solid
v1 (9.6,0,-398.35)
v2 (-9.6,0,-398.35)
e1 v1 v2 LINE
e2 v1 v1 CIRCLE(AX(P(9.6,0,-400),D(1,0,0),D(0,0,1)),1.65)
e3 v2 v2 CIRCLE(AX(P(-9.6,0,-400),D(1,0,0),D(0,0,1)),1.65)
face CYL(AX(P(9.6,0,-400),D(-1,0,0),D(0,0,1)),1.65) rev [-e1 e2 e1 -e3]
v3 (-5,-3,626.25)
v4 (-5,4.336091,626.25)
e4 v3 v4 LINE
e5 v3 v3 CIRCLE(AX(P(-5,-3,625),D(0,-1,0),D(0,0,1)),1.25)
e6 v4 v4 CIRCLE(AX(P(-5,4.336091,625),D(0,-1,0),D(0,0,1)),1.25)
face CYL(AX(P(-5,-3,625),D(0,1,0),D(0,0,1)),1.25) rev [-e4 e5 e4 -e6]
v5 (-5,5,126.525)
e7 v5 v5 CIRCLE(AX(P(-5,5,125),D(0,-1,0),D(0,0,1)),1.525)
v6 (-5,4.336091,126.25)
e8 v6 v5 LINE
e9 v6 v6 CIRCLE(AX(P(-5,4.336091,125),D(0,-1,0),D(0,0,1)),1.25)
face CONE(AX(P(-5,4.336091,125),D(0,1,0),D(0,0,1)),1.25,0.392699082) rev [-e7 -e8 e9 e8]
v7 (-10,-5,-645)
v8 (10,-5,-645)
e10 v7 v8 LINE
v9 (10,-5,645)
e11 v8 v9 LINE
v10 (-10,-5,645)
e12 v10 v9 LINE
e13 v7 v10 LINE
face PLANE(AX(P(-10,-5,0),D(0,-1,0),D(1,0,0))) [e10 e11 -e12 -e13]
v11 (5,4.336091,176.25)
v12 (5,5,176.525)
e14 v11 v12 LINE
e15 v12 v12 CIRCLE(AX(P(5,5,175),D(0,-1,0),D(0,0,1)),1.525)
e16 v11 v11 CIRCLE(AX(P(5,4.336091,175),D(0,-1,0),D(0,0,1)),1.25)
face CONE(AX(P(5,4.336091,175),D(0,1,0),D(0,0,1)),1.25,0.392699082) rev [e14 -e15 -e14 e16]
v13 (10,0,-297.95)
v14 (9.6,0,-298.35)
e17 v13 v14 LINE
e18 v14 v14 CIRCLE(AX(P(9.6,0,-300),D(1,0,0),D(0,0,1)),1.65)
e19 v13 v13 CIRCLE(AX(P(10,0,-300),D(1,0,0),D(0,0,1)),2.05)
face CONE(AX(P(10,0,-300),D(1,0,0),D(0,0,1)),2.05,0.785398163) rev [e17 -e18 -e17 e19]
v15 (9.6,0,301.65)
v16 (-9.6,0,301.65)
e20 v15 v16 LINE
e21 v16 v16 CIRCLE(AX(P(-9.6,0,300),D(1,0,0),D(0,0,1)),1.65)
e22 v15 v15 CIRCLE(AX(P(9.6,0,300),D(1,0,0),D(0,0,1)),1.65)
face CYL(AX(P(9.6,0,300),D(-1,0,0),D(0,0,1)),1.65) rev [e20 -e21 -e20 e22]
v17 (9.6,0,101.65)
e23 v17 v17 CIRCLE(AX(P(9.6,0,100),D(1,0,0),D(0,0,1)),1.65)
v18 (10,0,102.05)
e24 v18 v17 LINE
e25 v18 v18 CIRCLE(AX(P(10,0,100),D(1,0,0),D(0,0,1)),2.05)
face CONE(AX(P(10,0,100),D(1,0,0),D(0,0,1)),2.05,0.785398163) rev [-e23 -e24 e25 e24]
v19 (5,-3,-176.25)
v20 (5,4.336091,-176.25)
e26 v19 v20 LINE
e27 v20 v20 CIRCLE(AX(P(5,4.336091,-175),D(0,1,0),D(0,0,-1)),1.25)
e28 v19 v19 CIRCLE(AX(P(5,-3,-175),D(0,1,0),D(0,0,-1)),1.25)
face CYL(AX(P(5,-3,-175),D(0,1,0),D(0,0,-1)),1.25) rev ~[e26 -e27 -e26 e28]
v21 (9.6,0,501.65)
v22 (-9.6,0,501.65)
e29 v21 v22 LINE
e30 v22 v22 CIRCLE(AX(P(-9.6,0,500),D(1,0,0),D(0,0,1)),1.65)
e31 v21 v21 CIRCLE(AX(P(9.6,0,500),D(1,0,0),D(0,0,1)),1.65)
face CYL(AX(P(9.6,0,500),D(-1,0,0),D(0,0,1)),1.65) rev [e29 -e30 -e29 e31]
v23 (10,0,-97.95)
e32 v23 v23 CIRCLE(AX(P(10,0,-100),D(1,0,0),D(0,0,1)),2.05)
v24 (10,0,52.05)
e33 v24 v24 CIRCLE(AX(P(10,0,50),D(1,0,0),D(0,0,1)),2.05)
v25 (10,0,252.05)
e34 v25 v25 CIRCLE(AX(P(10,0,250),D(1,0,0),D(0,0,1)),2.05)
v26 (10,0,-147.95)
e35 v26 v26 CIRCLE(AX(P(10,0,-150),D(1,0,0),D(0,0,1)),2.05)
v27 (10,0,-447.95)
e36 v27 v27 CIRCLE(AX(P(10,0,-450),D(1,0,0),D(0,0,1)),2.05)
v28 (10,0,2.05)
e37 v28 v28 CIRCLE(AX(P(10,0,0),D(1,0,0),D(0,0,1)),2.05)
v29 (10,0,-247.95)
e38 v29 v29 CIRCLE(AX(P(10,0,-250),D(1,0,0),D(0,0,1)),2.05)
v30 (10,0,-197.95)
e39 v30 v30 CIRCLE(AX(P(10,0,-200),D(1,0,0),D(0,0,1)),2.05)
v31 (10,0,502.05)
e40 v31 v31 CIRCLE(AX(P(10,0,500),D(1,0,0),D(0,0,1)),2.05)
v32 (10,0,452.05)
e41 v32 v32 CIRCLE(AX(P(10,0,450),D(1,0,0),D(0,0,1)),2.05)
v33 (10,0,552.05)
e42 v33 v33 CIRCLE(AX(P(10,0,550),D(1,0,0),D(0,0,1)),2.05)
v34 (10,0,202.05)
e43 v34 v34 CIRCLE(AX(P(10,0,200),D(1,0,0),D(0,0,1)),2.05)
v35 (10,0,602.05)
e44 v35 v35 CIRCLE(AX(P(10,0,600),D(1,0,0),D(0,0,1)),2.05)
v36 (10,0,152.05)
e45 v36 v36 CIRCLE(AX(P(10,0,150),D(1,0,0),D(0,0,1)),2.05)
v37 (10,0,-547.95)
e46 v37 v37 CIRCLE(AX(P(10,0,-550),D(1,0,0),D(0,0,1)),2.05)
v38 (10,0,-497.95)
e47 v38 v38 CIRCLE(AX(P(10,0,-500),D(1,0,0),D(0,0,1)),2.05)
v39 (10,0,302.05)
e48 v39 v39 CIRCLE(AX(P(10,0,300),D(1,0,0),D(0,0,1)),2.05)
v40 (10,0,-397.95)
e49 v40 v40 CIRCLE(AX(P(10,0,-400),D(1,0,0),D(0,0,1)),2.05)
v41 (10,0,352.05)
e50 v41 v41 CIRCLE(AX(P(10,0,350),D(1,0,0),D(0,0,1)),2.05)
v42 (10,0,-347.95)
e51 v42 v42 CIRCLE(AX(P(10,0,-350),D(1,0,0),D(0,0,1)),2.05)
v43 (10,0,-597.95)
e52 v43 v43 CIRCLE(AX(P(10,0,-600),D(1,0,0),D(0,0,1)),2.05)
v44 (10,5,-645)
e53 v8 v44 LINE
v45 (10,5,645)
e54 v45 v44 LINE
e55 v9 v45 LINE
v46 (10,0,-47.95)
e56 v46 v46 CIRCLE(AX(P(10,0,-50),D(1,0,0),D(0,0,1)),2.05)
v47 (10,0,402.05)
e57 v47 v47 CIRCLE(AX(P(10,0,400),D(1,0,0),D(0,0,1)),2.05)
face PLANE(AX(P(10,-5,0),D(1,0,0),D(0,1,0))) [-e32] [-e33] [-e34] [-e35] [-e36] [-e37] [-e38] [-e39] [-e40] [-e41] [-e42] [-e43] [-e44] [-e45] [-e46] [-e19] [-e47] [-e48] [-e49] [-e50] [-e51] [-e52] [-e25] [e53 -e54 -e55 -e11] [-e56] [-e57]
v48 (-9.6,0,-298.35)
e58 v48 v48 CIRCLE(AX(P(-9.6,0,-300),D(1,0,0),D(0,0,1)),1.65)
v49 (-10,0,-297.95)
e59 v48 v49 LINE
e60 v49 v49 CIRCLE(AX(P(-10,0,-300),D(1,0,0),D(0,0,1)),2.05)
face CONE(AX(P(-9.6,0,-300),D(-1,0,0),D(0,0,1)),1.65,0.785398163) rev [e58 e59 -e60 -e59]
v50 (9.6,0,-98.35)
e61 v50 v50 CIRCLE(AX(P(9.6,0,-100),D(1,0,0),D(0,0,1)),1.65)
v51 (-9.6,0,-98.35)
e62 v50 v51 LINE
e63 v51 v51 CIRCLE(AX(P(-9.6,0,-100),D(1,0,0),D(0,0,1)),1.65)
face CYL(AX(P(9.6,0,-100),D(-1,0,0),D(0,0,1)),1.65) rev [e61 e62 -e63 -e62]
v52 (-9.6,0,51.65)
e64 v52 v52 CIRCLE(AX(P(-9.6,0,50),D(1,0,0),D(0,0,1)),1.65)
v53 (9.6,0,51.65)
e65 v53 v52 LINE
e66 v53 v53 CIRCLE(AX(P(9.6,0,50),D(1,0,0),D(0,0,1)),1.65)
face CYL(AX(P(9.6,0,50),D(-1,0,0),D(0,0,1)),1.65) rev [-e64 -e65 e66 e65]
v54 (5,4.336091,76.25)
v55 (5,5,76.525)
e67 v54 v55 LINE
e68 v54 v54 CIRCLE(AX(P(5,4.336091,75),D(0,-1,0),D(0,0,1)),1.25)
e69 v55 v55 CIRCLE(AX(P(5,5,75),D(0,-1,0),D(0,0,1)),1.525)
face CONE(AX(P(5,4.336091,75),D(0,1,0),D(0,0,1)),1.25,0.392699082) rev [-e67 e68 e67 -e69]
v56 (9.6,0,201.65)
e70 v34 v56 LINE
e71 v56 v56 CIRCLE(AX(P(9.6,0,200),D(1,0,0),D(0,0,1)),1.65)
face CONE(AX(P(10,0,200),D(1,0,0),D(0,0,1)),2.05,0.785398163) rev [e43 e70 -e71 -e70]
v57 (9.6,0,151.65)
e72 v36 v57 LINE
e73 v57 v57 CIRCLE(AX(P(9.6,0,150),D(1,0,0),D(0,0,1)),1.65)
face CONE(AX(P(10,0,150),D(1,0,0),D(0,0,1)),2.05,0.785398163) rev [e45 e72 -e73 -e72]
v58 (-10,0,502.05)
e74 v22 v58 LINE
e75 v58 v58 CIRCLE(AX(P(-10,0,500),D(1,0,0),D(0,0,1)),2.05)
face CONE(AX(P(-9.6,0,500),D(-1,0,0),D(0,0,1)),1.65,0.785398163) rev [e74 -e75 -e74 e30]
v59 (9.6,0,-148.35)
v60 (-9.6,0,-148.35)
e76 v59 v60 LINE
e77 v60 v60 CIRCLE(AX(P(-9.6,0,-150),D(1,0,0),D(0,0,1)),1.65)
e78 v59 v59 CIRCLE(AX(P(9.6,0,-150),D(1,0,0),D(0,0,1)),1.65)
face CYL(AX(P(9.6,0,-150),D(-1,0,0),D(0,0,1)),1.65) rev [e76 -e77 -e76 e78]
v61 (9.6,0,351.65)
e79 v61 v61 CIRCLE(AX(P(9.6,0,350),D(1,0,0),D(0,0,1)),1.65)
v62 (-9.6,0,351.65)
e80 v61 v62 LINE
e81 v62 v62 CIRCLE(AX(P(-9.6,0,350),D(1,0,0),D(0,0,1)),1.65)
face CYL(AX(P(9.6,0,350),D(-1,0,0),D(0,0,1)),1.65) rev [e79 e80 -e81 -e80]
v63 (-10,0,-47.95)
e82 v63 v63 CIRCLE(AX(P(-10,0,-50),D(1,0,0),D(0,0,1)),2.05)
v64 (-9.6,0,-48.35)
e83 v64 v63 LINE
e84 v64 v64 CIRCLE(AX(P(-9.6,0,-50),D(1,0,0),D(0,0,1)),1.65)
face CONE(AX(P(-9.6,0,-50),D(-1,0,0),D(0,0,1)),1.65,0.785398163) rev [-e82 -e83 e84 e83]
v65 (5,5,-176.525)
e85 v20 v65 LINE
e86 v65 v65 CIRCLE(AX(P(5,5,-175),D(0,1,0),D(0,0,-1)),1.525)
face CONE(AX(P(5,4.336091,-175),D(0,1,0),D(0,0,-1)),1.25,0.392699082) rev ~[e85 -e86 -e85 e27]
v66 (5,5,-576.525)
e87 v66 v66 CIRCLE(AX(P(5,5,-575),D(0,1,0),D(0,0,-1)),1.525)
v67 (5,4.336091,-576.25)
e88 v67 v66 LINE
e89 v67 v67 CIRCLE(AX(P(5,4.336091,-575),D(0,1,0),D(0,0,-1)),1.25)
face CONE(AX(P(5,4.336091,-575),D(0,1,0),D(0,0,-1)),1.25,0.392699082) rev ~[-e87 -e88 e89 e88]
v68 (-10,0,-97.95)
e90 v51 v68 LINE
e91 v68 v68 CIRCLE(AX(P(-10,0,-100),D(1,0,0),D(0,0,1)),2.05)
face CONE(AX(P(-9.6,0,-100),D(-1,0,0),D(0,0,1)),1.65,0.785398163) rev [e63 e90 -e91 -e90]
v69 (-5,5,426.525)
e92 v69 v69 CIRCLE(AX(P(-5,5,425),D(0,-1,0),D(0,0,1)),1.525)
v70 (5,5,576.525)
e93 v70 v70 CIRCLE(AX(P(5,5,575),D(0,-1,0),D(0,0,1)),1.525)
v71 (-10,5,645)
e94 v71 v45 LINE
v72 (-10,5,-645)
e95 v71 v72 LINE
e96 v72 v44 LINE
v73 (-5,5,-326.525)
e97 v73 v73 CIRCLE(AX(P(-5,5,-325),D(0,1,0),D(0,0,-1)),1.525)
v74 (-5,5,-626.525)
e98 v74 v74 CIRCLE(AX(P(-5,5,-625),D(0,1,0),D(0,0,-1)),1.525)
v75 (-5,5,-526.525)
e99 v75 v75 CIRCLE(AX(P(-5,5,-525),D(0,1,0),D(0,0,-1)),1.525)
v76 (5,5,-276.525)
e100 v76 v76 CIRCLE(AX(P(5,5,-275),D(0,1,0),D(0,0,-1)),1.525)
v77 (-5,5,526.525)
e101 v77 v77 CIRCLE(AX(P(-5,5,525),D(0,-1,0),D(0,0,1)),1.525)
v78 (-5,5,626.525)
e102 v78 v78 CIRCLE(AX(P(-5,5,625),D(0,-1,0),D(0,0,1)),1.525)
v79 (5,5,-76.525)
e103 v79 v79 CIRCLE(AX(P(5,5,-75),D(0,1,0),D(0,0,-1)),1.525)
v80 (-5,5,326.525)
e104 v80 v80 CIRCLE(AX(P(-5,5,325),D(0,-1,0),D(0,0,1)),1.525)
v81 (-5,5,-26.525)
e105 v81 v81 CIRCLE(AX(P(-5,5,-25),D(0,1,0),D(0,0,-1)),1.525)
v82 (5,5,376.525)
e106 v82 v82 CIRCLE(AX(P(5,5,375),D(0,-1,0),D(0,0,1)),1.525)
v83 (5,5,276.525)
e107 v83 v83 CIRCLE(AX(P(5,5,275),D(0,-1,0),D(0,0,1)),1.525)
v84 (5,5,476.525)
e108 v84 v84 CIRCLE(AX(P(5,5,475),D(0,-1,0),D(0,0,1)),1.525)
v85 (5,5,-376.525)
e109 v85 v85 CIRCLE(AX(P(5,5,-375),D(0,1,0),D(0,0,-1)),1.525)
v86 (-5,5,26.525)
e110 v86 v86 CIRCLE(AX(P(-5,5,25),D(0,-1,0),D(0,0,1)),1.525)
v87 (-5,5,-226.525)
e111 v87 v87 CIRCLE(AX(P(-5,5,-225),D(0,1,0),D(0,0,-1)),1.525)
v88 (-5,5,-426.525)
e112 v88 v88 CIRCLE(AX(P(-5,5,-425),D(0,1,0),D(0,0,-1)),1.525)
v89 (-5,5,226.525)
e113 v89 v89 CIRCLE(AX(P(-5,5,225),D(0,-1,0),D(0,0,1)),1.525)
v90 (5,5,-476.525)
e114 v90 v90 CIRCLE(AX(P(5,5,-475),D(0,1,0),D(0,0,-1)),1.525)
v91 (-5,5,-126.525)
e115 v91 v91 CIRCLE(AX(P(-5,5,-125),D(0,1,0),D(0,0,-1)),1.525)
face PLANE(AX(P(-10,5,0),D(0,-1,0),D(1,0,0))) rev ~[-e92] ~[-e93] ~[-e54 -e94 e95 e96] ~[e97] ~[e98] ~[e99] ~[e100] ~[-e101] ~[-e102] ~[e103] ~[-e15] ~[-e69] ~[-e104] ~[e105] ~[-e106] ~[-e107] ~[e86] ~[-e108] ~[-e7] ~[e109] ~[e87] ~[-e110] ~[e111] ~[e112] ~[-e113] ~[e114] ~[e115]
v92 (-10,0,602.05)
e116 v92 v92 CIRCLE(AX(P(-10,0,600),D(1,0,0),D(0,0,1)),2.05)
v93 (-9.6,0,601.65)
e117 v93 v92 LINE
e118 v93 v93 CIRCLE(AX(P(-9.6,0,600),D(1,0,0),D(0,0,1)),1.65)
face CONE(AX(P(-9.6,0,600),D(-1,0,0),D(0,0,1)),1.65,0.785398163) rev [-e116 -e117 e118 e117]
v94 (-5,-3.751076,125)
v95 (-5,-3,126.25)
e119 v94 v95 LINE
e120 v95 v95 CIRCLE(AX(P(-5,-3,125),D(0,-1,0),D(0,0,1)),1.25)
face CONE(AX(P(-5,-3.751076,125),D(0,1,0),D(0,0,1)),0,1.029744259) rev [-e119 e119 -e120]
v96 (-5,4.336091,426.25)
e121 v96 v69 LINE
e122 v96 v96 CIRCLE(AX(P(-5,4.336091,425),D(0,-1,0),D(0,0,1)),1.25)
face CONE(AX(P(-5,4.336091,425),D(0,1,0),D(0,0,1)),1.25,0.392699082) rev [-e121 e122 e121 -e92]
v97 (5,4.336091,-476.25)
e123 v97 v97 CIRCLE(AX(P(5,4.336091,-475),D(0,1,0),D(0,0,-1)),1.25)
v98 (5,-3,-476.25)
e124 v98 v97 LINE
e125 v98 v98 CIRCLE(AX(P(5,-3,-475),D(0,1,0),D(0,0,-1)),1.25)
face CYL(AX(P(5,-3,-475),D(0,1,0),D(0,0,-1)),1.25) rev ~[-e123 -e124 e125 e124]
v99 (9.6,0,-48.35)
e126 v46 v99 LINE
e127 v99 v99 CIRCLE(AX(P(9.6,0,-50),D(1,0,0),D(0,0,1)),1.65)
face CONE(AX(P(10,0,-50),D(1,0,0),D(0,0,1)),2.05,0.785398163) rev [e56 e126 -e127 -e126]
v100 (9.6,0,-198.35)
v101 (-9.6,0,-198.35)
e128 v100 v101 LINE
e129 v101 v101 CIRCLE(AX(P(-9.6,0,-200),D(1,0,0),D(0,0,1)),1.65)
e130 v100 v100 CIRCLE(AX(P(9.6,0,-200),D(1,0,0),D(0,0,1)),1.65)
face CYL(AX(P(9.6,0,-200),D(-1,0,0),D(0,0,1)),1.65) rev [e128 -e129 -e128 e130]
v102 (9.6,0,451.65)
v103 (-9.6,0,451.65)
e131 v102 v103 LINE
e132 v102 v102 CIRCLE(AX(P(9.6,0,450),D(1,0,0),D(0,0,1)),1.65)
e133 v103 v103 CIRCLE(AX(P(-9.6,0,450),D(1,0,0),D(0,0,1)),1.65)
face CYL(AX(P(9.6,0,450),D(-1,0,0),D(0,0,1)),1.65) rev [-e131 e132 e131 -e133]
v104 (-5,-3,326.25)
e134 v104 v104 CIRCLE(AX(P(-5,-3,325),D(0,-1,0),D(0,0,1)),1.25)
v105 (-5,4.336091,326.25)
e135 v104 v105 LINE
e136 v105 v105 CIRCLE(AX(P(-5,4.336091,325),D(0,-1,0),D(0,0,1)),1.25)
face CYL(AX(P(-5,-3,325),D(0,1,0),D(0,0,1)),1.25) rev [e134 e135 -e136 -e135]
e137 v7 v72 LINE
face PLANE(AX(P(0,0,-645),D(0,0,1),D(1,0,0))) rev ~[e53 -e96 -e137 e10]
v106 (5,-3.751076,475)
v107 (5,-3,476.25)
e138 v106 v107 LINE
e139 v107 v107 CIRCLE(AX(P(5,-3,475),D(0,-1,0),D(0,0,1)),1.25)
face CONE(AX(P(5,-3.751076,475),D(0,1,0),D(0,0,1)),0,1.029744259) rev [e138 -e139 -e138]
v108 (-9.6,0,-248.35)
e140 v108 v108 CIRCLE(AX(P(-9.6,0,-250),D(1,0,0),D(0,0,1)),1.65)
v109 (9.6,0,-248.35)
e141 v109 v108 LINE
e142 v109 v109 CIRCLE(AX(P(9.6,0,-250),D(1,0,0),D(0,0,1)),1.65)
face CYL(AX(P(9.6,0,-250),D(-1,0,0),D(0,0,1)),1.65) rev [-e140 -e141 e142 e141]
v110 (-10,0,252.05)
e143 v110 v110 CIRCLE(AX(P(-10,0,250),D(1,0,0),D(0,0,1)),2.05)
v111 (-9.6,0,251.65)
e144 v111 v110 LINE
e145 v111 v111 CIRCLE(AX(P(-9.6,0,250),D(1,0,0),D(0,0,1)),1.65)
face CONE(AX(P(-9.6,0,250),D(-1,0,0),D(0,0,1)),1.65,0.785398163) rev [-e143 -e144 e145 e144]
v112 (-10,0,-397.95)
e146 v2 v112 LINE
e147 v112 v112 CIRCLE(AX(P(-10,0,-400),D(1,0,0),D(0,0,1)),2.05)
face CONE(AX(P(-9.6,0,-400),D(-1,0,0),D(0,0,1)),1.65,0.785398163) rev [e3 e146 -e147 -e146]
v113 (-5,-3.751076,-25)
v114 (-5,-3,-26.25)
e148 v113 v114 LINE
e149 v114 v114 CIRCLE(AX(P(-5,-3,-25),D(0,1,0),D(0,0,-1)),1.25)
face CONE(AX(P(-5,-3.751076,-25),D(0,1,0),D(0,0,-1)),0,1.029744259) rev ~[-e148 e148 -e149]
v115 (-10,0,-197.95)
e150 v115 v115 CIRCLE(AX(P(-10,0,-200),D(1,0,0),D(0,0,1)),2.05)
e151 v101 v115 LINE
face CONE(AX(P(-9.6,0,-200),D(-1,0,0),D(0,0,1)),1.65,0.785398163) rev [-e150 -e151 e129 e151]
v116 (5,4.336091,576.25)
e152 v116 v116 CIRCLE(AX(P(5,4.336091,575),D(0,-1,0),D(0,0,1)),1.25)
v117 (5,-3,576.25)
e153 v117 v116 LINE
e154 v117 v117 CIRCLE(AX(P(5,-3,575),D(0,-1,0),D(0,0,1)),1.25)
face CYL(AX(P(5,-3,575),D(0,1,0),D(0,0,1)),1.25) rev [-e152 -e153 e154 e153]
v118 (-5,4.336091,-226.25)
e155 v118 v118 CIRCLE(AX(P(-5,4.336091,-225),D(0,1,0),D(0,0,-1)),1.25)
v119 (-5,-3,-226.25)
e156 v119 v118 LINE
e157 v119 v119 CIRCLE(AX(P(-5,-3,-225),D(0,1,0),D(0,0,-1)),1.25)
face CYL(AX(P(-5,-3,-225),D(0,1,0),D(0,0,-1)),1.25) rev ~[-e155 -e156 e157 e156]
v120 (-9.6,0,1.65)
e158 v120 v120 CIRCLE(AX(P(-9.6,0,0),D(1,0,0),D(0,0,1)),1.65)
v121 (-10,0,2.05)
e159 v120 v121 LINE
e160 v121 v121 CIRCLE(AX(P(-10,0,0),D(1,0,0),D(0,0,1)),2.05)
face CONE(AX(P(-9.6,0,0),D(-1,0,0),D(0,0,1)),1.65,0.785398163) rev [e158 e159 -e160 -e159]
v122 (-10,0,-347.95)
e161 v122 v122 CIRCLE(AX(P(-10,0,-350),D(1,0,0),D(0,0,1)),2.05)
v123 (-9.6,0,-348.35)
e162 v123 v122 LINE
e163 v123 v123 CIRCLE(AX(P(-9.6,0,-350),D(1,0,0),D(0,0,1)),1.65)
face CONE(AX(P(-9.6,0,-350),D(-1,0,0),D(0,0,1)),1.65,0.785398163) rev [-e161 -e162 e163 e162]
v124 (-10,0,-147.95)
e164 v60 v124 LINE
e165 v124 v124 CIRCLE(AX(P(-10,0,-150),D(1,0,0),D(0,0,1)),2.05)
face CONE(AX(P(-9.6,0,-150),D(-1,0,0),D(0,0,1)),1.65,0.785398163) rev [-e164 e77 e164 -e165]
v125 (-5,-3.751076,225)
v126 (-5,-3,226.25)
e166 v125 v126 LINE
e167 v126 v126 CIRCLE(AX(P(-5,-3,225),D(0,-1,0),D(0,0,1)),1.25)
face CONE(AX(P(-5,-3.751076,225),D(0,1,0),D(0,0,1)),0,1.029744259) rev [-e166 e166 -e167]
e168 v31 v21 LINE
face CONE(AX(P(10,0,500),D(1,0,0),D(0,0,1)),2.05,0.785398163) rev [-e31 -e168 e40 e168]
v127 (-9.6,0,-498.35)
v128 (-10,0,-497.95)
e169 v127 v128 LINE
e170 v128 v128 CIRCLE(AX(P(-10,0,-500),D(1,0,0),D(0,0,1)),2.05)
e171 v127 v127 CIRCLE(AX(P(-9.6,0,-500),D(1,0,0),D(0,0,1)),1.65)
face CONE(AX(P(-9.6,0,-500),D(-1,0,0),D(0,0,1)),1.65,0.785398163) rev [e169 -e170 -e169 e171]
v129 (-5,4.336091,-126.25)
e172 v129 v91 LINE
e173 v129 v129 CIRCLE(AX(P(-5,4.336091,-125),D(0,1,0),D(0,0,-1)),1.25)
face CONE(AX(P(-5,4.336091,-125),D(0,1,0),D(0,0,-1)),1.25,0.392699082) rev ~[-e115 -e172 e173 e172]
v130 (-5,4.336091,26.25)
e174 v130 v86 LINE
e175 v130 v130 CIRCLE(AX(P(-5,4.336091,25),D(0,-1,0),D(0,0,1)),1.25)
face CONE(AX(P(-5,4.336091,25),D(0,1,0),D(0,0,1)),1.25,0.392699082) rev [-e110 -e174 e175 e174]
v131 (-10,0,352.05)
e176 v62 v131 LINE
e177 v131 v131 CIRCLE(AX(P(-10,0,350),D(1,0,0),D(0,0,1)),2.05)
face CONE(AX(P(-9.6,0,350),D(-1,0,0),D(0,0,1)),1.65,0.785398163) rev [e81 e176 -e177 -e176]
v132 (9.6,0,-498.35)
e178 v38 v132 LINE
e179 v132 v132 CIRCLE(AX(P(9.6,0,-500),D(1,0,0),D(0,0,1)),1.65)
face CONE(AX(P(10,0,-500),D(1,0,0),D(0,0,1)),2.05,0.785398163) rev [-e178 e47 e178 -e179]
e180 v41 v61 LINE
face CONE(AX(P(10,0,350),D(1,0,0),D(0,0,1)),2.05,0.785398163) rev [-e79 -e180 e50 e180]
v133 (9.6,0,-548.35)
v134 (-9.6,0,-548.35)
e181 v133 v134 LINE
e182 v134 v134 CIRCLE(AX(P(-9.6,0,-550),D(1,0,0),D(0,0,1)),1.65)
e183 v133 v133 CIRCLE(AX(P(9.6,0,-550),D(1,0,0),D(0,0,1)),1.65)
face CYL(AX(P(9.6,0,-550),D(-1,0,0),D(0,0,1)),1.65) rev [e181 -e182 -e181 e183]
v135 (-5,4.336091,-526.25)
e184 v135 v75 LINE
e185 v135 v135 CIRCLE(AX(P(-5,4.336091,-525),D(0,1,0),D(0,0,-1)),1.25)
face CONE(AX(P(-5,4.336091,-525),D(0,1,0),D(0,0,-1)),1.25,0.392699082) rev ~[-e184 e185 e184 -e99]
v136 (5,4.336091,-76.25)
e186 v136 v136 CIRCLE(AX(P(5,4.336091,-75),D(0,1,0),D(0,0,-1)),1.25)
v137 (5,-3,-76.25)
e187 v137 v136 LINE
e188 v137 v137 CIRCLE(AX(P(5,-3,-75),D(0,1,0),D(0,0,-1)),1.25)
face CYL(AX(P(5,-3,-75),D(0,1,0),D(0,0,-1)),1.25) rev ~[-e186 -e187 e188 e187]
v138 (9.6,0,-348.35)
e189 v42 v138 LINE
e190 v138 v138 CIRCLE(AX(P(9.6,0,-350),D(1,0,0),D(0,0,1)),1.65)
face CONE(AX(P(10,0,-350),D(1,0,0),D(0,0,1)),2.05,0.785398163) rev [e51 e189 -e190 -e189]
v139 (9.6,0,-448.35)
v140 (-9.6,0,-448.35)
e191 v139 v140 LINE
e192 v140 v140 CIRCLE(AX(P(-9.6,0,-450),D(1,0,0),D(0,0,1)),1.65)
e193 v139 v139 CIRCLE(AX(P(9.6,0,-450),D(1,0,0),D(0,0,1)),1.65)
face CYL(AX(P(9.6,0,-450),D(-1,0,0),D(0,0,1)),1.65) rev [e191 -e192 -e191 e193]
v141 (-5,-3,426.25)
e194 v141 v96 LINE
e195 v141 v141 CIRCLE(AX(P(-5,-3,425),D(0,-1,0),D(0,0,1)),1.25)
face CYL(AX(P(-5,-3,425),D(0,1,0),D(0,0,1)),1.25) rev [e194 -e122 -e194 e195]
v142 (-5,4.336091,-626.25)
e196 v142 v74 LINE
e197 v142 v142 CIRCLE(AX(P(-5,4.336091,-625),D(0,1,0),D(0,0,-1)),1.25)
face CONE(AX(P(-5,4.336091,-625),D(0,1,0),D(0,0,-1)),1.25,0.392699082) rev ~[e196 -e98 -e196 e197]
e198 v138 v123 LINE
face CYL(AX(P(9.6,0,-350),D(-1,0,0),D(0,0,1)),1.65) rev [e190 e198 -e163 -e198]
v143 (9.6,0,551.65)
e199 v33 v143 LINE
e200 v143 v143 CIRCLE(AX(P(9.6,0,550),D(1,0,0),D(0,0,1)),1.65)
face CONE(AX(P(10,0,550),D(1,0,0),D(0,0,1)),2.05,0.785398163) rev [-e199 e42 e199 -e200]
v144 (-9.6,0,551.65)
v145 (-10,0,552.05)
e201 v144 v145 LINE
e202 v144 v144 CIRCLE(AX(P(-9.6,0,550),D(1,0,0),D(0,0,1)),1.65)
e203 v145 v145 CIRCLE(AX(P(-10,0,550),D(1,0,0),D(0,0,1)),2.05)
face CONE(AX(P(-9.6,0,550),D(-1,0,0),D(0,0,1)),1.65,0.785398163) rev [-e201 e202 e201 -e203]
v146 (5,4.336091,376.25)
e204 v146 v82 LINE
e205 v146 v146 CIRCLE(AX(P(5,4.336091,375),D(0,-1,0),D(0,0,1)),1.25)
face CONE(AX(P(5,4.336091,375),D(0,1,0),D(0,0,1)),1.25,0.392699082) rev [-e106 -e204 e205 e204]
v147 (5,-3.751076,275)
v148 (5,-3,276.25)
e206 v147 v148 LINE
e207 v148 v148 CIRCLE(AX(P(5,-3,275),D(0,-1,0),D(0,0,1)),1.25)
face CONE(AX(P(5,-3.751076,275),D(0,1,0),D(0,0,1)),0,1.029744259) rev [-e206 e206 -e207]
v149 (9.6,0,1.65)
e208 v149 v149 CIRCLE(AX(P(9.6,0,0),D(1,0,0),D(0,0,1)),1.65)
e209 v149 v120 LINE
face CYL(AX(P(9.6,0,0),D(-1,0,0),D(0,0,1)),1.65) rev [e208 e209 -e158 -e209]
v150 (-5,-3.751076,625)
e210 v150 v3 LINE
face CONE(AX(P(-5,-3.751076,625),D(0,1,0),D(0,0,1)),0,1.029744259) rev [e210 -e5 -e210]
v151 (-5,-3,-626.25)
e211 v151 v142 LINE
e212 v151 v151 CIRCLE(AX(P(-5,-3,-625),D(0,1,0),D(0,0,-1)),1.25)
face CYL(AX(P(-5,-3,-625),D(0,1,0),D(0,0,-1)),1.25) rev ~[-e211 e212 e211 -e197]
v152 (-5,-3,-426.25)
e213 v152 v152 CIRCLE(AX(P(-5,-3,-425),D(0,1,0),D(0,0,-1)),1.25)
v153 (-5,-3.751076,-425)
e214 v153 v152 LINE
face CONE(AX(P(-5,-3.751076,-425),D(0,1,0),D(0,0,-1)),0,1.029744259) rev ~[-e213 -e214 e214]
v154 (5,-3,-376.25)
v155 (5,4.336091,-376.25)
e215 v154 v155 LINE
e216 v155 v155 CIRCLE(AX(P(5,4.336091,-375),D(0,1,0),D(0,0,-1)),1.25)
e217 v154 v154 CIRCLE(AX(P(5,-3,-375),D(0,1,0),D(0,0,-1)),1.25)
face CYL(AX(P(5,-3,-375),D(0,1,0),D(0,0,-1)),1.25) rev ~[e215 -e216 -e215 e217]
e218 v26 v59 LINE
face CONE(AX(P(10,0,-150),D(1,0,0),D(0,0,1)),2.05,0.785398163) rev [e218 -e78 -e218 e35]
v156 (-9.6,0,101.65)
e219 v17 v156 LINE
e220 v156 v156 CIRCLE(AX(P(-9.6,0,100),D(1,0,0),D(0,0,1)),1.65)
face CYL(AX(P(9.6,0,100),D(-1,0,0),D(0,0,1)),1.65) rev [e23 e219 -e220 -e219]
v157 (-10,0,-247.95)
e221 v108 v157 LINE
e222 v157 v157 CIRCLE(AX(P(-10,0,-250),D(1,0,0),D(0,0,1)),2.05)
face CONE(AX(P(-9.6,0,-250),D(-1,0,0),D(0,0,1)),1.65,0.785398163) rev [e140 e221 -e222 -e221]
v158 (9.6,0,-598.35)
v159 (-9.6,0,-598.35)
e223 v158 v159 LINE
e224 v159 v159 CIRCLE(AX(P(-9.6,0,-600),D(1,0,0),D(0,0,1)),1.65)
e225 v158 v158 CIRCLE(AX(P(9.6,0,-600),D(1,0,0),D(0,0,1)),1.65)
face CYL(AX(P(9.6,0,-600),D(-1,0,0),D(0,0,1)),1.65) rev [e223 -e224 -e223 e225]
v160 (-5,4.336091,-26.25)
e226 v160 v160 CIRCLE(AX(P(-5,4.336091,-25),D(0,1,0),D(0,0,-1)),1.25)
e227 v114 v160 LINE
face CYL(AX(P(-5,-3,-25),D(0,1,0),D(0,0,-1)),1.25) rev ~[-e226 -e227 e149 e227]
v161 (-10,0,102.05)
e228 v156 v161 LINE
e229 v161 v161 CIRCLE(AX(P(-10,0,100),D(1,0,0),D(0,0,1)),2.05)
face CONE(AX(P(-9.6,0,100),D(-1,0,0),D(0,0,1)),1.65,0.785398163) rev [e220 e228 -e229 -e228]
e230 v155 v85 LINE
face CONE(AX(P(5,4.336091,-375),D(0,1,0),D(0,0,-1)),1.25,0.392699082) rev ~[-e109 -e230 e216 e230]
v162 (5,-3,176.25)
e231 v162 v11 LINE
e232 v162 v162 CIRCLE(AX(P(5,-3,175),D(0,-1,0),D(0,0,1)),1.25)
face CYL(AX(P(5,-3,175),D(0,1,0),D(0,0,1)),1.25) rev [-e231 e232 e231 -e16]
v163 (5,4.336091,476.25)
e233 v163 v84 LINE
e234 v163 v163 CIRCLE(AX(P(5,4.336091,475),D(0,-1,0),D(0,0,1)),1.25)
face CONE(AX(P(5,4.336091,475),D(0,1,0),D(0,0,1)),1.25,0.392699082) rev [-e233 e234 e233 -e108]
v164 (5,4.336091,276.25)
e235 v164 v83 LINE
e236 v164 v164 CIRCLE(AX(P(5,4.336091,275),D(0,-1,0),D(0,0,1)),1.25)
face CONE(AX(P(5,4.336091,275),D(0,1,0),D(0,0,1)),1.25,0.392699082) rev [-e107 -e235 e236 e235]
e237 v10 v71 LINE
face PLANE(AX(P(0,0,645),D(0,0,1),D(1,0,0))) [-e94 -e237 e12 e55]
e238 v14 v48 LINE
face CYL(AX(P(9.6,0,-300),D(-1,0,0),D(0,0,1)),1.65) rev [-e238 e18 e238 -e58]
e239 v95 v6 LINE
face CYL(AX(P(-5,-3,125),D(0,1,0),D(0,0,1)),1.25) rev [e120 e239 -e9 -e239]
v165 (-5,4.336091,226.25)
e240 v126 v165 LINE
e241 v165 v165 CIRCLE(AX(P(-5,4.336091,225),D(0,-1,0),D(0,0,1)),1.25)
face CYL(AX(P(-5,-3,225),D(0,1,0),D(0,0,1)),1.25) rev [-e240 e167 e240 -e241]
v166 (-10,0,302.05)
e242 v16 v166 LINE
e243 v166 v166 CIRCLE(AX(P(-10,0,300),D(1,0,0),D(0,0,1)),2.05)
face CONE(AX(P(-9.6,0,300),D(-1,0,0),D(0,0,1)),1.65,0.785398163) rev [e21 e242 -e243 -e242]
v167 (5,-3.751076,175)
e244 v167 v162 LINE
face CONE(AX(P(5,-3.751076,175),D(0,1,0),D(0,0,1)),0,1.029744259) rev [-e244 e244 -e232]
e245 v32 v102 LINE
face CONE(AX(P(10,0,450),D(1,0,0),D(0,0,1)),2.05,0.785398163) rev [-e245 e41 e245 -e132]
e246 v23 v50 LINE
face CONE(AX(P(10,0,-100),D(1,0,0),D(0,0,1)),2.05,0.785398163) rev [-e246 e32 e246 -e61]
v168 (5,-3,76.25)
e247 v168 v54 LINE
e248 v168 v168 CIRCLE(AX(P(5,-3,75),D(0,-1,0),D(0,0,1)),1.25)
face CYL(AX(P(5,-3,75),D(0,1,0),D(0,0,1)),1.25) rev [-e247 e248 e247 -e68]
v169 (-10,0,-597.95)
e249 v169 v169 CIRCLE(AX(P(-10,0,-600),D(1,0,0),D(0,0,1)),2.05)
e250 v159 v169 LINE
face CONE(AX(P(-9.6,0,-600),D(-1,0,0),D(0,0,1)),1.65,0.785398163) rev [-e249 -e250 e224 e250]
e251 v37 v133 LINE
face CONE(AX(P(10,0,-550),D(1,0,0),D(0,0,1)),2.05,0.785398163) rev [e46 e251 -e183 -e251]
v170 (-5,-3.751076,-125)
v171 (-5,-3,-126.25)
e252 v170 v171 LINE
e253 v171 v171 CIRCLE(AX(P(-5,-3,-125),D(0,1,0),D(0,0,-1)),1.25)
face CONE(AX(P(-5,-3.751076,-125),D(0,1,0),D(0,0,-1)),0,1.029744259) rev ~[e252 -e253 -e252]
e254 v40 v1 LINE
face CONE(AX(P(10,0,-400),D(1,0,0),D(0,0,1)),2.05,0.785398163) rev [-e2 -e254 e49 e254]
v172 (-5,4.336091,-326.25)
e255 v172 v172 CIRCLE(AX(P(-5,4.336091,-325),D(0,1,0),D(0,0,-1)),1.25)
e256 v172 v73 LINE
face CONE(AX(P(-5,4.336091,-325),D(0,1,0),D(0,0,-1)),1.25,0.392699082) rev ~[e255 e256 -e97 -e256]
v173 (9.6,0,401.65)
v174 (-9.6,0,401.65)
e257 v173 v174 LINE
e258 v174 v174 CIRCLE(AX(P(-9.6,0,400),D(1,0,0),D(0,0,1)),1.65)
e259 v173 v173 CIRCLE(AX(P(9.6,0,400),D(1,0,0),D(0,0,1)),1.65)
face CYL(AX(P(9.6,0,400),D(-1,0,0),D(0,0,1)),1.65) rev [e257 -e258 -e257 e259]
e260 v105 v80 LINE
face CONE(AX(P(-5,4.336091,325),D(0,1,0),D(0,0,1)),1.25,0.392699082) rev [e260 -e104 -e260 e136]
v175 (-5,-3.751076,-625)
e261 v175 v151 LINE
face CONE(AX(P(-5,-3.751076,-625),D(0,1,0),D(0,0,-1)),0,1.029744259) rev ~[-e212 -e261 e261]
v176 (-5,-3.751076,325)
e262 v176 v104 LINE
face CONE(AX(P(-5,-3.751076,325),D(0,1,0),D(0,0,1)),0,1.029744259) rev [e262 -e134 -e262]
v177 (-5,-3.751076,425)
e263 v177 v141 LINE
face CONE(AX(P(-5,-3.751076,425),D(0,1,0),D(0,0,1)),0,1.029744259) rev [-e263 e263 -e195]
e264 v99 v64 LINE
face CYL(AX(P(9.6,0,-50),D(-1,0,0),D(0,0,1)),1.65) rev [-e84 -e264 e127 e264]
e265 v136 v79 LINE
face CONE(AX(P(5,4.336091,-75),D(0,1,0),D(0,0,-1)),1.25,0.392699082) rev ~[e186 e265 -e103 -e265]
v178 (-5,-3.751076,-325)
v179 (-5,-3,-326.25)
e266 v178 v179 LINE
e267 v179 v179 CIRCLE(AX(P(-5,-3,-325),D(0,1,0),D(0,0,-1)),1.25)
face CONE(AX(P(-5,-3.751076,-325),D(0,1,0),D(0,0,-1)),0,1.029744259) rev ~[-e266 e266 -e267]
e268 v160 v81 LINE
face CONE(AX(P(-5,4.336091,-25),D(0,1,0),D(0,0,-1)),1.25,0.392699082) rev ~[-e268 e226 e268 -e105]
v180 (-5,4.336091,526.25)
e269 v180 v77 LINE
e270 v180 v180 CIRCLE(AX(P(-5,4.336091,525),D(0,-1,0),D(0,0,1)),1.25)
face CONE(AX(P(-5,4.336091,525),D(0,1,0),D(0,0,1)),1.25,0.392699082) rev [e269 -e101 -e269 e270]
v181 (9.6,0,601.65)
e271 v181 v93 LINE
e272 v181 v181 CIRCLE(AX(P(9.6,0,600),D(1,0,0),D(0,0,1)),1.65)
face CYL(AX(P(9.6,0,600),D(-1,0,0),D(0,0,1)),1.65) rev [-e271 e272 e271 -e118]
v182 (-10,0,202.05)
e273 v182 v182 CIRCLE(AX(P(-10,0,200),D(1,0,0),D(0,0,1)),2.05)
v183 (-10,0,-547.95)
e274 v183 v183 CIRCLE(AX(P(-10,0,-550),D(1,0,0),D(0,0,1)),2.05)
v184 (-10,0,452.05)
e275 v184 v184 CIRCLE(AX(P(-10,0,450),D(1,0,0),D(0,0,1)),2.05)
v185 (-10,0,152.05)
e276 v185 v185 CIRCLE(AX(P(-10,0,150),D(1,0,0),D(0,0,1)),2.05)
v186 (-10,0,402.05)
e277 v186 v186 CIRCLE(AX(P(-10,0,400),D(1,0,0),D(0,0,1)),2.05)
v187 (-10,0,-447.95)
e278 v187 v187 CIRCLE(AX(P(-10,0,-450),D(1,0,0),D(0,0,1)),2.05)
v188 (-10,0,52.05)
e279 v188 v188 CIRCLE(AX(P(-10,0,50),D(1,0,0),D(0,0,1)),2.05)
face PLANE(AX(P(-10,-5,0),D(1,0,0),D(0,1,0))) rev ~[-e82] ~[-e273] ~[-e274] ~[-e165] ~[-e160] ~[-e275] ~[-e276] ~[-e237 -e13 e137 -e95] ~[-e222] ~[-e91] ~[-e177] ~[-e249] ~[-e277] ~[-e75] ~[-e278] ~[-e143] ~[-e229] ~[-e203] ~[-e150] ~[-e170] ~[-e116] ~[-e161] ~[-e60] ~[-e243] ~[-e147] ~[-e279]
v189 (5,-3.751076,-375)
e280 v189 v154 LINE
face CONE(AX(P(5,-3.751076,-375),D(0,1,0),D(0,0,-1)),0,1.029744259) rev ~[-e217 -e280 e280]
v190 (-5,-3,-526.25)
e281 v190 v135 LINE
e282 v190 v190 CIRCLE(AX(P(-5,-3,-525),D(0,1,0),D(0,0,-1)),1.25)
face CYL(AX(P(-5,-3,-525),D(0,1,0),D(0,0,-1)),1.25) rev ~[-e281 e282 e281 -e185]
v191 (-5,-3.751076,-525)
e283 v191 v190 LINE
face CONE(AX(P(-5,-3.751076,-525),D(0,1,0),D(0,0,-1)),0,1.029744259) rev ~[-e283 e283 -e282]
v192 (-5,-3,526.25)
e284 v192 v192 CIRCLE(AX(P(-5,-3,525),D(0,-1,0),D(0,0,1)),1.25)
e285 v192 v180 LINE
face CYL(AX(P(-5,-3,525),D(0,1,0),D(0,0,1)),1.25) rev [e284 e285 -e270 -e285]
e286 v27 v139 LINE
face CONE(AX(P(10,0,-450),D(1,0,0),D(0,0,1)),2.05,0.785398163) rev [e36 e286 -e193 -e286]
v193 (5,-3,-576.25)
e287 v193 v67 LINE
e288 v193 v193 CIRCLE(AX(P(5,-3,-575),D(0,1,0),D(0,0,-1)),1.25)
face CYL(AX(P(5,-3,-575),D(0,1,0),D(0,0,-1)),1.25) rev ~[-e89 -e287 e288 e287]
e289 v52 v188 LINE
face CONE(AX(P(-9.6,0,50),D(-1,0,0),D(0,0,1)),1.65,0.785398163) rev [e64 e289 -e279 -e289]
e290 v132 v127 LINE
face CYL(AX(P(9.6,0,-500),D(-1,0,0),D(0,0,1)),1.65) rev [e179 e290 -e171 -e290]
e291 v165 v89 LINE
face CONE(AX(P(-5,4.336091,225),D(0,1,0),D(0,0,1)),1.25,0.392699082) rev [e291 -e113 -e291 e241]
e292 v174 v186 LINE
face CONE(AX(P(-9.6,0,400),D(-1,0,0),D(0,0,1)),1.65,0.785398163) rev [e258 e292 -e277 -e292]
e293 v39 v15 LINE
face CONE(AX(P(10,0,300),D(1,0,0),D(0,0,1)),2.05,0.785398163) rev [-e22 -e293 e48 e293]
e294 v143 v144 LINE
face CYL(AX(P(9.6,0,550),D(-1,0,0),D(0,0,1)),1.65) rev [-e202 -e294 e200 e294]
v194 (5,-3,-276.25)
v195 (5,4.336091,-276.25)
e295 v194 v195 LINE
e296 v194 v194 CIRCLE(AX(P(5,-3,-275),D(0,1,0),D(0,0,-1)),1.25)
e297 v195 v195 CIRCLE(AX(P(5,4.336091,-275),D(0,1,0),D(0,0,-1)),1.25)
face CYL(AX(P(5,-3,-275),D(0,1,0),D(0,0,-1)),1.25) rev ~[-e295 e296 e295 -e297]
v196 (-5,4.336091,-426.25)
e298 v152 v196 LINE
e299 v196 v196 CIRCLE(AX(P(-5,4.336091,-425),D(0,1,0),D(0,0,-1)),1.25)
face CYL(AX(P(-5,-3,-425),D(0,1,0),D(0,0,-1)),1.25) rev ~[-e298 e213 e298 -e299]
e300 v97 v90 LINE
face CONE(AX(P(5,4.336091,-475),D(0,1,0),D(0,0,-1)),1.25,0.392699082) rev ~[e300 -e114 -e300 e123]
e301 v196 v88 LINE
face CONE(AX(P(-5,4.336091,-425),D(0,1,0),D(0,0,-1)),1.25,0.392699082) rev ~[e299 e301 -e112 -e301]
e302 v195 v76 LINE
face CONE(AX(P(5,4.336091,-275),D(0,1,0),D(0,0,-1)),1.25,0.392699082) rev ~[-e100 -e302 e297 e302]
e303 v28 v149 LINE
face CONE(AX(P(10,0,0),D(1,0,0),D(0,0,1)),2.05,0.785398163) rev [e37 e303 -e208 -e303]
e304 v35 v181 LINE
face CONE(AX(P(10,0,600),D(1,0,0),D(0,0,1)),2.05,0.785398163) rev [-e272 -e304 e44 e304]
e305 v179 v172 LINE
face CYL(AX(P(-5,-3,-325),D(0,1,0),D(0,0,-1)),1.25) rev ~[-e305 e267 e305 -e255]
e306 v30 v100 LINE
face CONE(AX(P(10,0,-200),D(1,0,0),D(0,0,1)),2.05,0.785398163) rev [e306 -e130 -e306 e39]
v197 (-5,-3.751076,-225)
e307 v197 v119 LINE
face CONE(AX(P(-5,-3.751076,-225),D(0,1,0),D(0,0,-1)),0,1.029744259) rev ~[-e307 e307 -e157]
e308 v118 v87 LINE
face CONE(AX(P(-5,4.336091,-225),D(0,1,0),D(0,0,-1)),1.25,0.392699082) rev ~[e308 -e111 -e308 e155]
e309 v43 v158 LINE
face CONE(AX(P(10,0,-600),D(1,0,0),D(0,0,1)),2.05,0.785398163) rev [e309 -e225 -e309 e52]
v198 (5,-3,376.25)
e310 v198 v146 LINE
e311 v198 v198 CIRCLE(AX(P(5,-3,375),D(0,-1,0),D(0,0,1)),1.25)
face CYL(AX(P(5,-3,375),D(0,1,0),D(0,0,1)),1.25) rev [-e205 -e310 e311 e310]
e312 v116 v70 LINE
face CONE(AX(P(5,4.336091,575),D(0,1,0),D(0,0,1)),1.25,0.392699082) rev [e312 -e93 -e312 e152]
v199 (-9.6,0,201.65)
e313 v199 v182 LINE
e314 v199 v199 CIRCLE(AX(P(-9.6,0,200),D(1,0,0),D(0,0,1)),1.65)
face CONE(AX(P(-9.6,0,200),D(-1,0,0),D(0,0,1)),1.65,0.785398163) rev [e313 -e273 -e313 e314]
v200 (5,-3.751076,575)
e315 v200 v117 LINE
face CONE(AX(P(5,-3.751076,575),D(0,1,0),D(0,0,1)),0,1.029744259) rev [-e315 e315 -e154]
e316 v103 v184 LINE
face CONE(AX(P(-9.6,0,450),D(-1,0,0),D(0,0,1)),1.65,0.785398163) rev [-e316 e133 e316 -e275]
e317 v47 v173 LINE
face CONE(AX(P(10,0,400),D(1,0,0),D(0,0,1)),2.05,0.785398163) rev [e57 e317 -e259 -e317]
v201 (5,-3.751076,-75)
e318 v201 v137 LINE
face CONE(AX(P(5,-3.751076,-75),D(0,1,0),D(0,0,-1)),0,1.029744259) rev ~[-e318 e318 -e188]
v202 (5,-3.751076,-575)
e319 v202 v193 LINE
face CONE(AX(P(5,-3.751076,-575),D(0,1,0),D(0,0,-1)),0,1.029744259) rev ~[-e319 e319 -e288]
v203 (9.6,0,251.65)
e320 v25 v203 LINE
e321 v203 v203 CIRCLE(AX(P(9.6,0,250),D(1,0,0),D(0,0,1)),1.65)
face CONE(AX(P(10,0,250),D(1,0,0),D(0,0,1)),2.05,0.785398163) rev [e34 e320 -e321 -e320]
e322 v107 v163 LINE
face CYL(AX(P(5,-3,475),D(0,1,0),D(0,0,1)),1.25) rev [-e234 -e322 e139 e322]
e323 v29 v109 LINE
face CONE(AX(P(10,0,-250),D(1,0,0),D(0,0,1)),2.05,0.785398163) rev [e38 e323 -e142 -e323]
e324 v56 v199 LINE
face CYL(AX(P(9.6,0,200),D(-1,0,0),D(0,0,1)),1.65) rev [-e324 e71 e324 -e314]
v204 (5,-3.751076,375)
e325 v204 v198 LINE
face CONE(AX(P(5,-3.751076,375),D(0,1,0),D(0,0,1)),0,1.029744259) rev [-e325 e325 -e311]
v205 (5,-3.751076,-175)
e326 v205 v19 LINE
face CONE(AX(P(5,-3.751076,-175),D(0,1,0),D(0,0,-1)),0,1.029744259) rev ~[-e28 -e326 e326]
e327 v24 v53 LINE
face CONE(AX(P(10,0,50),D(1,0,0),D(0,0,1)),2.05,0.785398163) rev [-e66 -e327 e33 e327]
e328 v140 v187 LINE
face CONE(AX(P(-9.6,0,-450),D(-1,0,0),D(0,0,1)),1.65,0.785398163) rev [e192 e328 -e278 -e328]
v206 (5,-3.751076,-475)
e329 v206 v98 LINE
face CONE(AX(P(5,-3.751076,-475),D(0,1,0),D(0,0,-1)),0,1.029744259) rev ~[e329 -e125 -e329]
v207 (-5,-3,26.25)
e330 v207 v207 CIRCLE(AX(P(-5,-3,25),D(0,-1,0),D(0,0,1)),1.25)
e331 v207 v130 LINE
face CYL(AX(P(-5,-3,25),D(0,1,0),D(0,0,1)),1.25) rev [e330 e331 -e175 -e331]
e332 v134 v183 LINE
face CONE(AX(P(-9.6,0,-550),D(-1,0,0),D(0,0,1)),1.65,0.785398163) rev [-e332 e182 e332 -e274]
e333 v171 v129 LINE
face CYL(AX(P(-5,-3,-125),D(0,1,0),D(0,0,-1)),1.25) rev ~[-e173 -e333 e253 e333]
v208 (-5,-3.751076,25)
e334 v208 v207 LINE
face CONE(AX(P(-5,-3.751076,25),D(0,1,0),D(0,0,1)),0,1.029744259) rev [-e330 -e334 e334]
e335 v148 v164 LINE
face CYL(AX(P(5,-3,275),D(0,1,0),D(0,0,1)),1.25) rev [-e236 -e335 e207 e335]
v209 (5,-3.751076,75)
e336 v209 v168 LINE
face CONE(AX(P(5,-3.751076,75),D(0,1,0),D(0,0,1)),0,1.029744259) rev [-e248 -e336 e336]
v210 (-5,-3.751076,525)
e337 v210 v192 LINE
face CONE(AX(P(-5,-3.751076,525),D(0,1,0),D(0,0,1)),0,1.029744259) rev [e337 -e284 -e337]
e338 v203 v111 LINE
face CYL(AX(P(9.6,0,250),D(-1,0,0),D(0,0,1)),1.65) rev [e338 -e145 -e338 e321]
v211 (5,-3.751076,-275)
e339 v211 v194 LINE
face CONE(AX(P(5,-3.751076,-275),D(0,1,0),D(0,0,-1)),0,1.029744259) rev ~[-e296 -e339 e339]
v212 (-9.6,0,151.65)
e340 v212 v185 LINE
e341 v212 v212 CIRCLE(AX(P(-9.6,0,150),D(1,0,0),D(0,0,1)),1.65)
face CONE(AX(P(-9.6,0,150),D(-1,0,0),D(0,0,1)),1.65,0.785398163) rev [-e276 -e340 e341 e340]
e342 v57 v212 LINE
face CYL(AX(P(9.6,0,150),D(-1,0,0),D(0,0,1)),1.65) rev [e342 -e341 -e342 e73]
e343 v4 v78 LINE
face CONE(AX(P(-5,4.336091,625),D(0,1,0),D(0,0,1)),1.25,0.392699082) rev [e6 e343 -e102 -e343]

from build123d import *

# Parameters (mm, degrees)
SKETCH1_W                      = 20
SKETCH1_H                      = 10
BOSS_EXTRUDE1_DEPTH            = 645
M3X0_5_TAPPED_HOLE1_AT_2_COUNT = 2
M3X0_5_TAPPED_HOLE1_AT_2_PITCH = 50.990195136
LPATTERN1_COUNT                = 7
LPATTERN1_PITCH                = 100
LPATTERN2_COUNT                = 13
LPATTERN2_PITCH                = 50
LPATTERN2_COL_COUNT            = 13
LPATTERN2_COL_PITCH            = 50


with BuildPart() as part:
    # Sketch1 → Boss-Extrude1 (new, symmetric)
    with BuildSketch(Plane.XY):
        Rectangle(SKETCH1_W, SKETCH1_H)
    extrude(amount=BOSS_EXTRUDE1_DEPTH, both=True)

    # Sketch7 → M3x0.5 Tapped Hole1 (revolve, cut)
    with BuildSketch(Plane(origin=(-5, 5, 25), x_dir=(0, 0, 1), z_dir=(1, 0, 0))):
        Polygon((0, 0), (0, 8.751075774), (1.25, 8), (1.25, 0.66390873), (1.525, 0), align=None)
    m3x0_5_tapped_hole1 = revolve(axis=Axis((-5, 11.35, 25), (0, -1, 0)), mode=Mode.SUBTRACT)

    # M3x0.5 Tapped Hole1 at 2: M3x0.5 Tapped Hole1 ×2
    with Locations(*[Vector(0.1961161351381841, 0, 0.9805806756909201) * (i * M3X0_5_TAPPED_HOLE1_AT_2_PITCH) for i in range(1, M3X0_5_TAPPED_HOLE1_AT_2_COUNT)]):
        add(m3x0_5_tapped_hole1, mode=Mode.SUBTRACT)

    # LPattern1: M3x0.5 Tapped Hole1 ×7
    with Locations(*[(0, 0, i * LPATTERN1_PITCH) for i in range(1, LPATTERN1_COUNT)]):
        add(m3x0_5_tapped_hole1, mode=Mode.SUBTRACT)

    # LPattern1 copy 1 sketch → LPattern1 copy 1 (revolve, cut)
    with BuildSketch(Plane(origin=(5, 5, 175), x_dir=(0, 0, 1), z_dir=(1, 0, 0))):
        Polygon((0, 0), (0, 8.751075774), (1.25, 8), (1.25, 0.66390873), (1.525, 0), align=None)
    revolve(axis=Axis((5, 11.35, 175), (0, -1, 0)), mode=Mode.SUBTRACT)

    # LPattern1 copy 2 sketch → LPattern1 copy 2 (revolve, cut)
    with BuildSketch(Plane(origin=(5, 5, 275), x_dir=(0, 0, 1), z_dir=(1, 0, 0))):
        Polygon((0, 0), (0, 8.751075774), (1.25, 8), (1.25, 0.66390873), (1.525, 0), align=None)
    revolve(axis=Axis((5, 11.35, 275), (0, -1, 0)), mode=Mode.SUBTRACT)

    # LPattern1 copy 3 sketch → LPattern1 copy 3 (revolve, cut)
    with BuildSketch(Plane(origin=(5, 5, 375), x_dir=(0, 0, 1), z_dir=(1, 0, 0))):
        Polygon((0, 0), (0, 8.751075774), (1.25, 8), (1.25, 0.66390873), (1.525, 0), align=None)
    revolve(axis=Axis((5, 11.35, 375), (0, -1, 0)), mode=Mode.SUBTRACT)

    # LPattern1 copy 4 sketch → LPattern1 copy 4 (revolve, cut)
    with BuildSketch(Plane(origin=(5, 5, 475), x_dir=(0, 0, 1), z_dir=(1, 0, 0))):
        Polygon((0, 0), (0, 8.751075774), (1.25, 8), (1.25, 0.66390873), (1.525, 0), align=None)
    revolve(axis=Axis((5, 11.35, 475), (0, -1, 0)), mode=Mode.SUBTRACT)

    # LPattern1 copy 5 sketch → LPattern1 copy 5 (revolve, cut)
    with BuildSketch(Plane(origin=(5, 5, 575), x_dir=(0, 0, 1), z_dir=(1, 0, 0))):
        Polygon((0, 0), (0, 8.751075774), (1.25, 8), (1.25, 0.66390873), (1.525, 0), align=None)
    revolve(axis=Axis((5, 11.35, 575), (0, -1, 0)), mode=Mode.SUBTRACT)

    # LPattern1 copy 6 sketch → LPattern1 copy 6 (revolve, cut)
    with BuildSketch(Plane(origin=(5, 5, 675), x_dir=(0, 0, 1), z_dir=(1, 0, 0))):
        Polygon((0, 0), (0, 8.751075774), (1.25, 8), (1.25, 0.66390873), (1.525, 0), align=None)
    revolve(axis=Axis((5, 11.35, 675), (0, -1, 0)), mode=Mode.SUBTRACT)

    # Mirror1: M3x0.5 Tapped Hole1 across plane
    add(m3x0_5_tapped_hole1.mirror(Plane.XY), mode=Mode.SUBTRACT)

    # Mirror1 copy 1 sketch → Mirror1 copy 1 (revolve, cut)
    with BuildSketch(Plane(origin=(5, 5, -75), x_dir=(0, 0, -1), z_dir=(1, 0, 0))):
        Polygon((0, 0), (0, -8.751075774), (1.25, -8), (1.25, -0.66390873), (1.525, 0), align=None)
    revolve(axis=Axis((5, 11.35, -75), (0, 1, 0)), mode=Mode.SUBTRACT)

    # Mirror1 copy 2 sketch → Mirror1 copy 2 (revolve, cut)
    with BuildSketch(Plane(origin=(-5, 5, -125), x_dir=(0, 0, -1), z_dir=(1, 0, 0))):
        Polygon((0, 0), (0, -8.751075774), (1.25, -8), (1.25, -0.66390873), (1.525, 0), align=None)
    revolve(axis=Axis((-5, 11.35, -125), (0, 1, 0)), mode=Mode.SUBTRACT)

    # Mirror1 copy 3 sketch → Mirror1 copy 3 (revolve, cut)
    with BuildSketch(Plane(origin=(-5, 5, -225), x_dir=(0, 0, -1), z_dir=(1, 0, 0))):
        Polygon((0, 0), (0, -8.751075774), (1.25, -8), (1.25, -0.66390873), (1.525, 0), align=None)
    revolve(axis=Axis((-5, 11.35, -225), (0, 1, 0)), mode=Mode.SUBTRACT)

    # Mirror1 copy 4 sketch → Mirror1 copy 4 (revolve, cut)
    with BuildSketch(Plane(origin=(-5, 5, -325), x_dir=(0, 0, -1), z_dir=(1, 0, 0))):
        Polygon((0, 0), (0, -8.751075774), (1.25, -8), (1.25, -0.66390873), (1.525, 0), align=None)
    revolve(axis=Axis((-5, 11.35, -325), (0, 1, 0)), mode=Mode.SUBTRACT)

    # Mirror1 copy 5 sketch → Mirror1 copy 5 (revolve, cut)
    with BuildSketch(Plane(origin=(-5, 5, -425), x_dir=(0, 0, -1), z_dir=(1, 0, 0))):
        Polygon((0, 0), (0, -8.751075774), (1.25, -8), (1.25, -0.66390873), (1.525, 0), align=None)
    revolve(axis=Axis((-5, 11.35, -425), (0, 1, 0)), mode=Mode.SUBTRACT)

    # Mirror1 copy 6 sketch → Mirror1 copy 6 (revolve, cut)
    with BuildSketch(Plane(origin=(-5, 5, -525), x_dir=(0, 0, -1), z_dir=(1, 0, 0))):
        Polygon((0, 0), (0, -8.751075774), (1.25, -8), (1.25, -0.66390873), (1.525, 0), align=None)
    revolve(axis=Axis((-5, 11.35, -525), (0, 1, 0)), mode=Mode.SUBTRACT)

    # Mirror1 copy 7 sketch → Mirror1 copy 7 (revolve, cut)
    with BuildSketch(Plane(origin=(-5, 5, -625), x_dir=(0, 0, -1), z_dir=(1, 0, 0))):
        Polygon((0, 0), (0, -8.751075774), (1.25, -8), (1.25, -0.66390873), (1.525, 0), align=None)
    revolve(axis=Axis((-5, 11.35, -625), (0, 1, 0)), mode=Mode.SUBTRACT)

    # Mirror1 copy 8 sketch → Mirror1 copy 8 (revolve, cut)
    with BuildSketch(Plane(origin=(5, 5, -175), x_dir=(0, 0, -1), z_dir=(1, 0, 0))):
        Polygon((0, 0), (0, -8.751075774), (1.25, -8), (1.25, -0.66390873), (1.525, 0), align=None)
    revolve(axis=Axis((5, 11.35, -175), (0, 1, 0)), mode=Mode.SUBTRACT)

    # Mirror1 copy 9 sketch → Mirror1 copy 9 (revolve, cut)
    with BuildSketch(Plane(origin=(5, 5, -275), x_dir=(0, 0, -1), z_dir=(1, 0, 0))):
        Polygon((0, 0), (0, -8.751075774), (1.25, -8), (1.25, -0.66390873), (1.525, 0), align=None)
    revolve(axis=Axis((5, 11.35, -275), (0, 1, 0)), mode=Mode.SUBTRACT)

    # Mirror1 copy 10 sketch → Mirror1 copy 10 (revolve, cut)
    with BuildSketch(Plane(origin=(5, 5, -375), x_dir=(0, 0, -1), z_dir=(1, 0, 0))):
        Polygon((0, 0), (0, -8.751075774), (1.25, -8), (1.25, -0.66390873), (1.525, 0), align=None)
    revolve(axis=Axis((5, 11.35, -375), (0, 1, 0)), mode=Mode.SUBTRACT)

    # Mirror1 copy 11 sketch → Mirror1 copy 11 (revolve, cut)
    with BuildSketch(Plane(origin=(5, 5, -475), x_dir=(0, 0, -1), z_dir=(1, 0, 0))):
        Polygon((0, 0), (0, -8.751075774), (1.25, -8), (1.25, -0.66390873), (1.525, 0), align=None)
    revolve(axis=Axis((5, 11.35, -475), (0, 1, 0)), mode=Mode.SUBTRACT)

    # Mirror1 copy 12 sketch → Mirror1 copy 12 (revolve, cut)
    with BuildSketch(Plane(origin=(5, 5, -575), x_dir=(0, 0, -1), z_dir=(1, 0, 0))):
        Polygon((0, 0), (0, -8.751075774), (1.25, -8), (1.25, -0.66390873), (1.525, 0), align=None)
    revolve(axis=Axis((5, 11.35, -575), (0, 1, 0)), mode=Mode.SUBTRACT)

    # Mirror1 copy 13 sketch → Mirror1 copy 13 (revolve, cut)
    with BuildSketch(Plane(origin=(5, 5, -675), x_dir=(0, 0, -1), z_dir=(1, 0, 0))):
        Polygon((0, 0), (0, -8.751075774), (1.25, -8), (1.25, -0.66390873), (1.525, 0), align=None)
    revolve(axis=Axis((5, 11.35, -675), (0, 1, 0)), mode=Mode.SUBTRACT)

    # Sketch9 → M4x0.7 Tapped Hole1 (revolve, cut)
    with BuildSketch(Plane(origin=(-10, 0, 0), x_dir=(0, 0, 1), z_dir=(0, 1, 0))):
        Polygon((0, 0), (0, 20), (2.05, 20), (1.65, 19.6), (1.65, 0.4), (2.05, 0), align=None)
    m4x0_7_tapped_hole1 = revolve(axis=Axis((-16.35, 0, 0), (1, 0, 0)), mode=Mode.SUBTRACT)

    # LPattern2: M4x0.7 Tapped Hole1 ×13
    with Locations(*[(0, 0, i * LPATTERN2_PITCH) for i in range(1, LPATTERN2_COUNT)]):
        add(m4x0_7_tapped_hole1, mode=Mode.SUBTRACT)

    # LPattern2 col: M4x0.7 Tapped Hole1 ×13
    with Locations(*[(0, 0, -i * LPATTERN2_COL_PITCH) for i in range(1, LPATTERN2_COL_COUNT)]):
        add(m4x0_7_tapped_hole1, mode=Mode.SUBTRACT)


solid = part.part
